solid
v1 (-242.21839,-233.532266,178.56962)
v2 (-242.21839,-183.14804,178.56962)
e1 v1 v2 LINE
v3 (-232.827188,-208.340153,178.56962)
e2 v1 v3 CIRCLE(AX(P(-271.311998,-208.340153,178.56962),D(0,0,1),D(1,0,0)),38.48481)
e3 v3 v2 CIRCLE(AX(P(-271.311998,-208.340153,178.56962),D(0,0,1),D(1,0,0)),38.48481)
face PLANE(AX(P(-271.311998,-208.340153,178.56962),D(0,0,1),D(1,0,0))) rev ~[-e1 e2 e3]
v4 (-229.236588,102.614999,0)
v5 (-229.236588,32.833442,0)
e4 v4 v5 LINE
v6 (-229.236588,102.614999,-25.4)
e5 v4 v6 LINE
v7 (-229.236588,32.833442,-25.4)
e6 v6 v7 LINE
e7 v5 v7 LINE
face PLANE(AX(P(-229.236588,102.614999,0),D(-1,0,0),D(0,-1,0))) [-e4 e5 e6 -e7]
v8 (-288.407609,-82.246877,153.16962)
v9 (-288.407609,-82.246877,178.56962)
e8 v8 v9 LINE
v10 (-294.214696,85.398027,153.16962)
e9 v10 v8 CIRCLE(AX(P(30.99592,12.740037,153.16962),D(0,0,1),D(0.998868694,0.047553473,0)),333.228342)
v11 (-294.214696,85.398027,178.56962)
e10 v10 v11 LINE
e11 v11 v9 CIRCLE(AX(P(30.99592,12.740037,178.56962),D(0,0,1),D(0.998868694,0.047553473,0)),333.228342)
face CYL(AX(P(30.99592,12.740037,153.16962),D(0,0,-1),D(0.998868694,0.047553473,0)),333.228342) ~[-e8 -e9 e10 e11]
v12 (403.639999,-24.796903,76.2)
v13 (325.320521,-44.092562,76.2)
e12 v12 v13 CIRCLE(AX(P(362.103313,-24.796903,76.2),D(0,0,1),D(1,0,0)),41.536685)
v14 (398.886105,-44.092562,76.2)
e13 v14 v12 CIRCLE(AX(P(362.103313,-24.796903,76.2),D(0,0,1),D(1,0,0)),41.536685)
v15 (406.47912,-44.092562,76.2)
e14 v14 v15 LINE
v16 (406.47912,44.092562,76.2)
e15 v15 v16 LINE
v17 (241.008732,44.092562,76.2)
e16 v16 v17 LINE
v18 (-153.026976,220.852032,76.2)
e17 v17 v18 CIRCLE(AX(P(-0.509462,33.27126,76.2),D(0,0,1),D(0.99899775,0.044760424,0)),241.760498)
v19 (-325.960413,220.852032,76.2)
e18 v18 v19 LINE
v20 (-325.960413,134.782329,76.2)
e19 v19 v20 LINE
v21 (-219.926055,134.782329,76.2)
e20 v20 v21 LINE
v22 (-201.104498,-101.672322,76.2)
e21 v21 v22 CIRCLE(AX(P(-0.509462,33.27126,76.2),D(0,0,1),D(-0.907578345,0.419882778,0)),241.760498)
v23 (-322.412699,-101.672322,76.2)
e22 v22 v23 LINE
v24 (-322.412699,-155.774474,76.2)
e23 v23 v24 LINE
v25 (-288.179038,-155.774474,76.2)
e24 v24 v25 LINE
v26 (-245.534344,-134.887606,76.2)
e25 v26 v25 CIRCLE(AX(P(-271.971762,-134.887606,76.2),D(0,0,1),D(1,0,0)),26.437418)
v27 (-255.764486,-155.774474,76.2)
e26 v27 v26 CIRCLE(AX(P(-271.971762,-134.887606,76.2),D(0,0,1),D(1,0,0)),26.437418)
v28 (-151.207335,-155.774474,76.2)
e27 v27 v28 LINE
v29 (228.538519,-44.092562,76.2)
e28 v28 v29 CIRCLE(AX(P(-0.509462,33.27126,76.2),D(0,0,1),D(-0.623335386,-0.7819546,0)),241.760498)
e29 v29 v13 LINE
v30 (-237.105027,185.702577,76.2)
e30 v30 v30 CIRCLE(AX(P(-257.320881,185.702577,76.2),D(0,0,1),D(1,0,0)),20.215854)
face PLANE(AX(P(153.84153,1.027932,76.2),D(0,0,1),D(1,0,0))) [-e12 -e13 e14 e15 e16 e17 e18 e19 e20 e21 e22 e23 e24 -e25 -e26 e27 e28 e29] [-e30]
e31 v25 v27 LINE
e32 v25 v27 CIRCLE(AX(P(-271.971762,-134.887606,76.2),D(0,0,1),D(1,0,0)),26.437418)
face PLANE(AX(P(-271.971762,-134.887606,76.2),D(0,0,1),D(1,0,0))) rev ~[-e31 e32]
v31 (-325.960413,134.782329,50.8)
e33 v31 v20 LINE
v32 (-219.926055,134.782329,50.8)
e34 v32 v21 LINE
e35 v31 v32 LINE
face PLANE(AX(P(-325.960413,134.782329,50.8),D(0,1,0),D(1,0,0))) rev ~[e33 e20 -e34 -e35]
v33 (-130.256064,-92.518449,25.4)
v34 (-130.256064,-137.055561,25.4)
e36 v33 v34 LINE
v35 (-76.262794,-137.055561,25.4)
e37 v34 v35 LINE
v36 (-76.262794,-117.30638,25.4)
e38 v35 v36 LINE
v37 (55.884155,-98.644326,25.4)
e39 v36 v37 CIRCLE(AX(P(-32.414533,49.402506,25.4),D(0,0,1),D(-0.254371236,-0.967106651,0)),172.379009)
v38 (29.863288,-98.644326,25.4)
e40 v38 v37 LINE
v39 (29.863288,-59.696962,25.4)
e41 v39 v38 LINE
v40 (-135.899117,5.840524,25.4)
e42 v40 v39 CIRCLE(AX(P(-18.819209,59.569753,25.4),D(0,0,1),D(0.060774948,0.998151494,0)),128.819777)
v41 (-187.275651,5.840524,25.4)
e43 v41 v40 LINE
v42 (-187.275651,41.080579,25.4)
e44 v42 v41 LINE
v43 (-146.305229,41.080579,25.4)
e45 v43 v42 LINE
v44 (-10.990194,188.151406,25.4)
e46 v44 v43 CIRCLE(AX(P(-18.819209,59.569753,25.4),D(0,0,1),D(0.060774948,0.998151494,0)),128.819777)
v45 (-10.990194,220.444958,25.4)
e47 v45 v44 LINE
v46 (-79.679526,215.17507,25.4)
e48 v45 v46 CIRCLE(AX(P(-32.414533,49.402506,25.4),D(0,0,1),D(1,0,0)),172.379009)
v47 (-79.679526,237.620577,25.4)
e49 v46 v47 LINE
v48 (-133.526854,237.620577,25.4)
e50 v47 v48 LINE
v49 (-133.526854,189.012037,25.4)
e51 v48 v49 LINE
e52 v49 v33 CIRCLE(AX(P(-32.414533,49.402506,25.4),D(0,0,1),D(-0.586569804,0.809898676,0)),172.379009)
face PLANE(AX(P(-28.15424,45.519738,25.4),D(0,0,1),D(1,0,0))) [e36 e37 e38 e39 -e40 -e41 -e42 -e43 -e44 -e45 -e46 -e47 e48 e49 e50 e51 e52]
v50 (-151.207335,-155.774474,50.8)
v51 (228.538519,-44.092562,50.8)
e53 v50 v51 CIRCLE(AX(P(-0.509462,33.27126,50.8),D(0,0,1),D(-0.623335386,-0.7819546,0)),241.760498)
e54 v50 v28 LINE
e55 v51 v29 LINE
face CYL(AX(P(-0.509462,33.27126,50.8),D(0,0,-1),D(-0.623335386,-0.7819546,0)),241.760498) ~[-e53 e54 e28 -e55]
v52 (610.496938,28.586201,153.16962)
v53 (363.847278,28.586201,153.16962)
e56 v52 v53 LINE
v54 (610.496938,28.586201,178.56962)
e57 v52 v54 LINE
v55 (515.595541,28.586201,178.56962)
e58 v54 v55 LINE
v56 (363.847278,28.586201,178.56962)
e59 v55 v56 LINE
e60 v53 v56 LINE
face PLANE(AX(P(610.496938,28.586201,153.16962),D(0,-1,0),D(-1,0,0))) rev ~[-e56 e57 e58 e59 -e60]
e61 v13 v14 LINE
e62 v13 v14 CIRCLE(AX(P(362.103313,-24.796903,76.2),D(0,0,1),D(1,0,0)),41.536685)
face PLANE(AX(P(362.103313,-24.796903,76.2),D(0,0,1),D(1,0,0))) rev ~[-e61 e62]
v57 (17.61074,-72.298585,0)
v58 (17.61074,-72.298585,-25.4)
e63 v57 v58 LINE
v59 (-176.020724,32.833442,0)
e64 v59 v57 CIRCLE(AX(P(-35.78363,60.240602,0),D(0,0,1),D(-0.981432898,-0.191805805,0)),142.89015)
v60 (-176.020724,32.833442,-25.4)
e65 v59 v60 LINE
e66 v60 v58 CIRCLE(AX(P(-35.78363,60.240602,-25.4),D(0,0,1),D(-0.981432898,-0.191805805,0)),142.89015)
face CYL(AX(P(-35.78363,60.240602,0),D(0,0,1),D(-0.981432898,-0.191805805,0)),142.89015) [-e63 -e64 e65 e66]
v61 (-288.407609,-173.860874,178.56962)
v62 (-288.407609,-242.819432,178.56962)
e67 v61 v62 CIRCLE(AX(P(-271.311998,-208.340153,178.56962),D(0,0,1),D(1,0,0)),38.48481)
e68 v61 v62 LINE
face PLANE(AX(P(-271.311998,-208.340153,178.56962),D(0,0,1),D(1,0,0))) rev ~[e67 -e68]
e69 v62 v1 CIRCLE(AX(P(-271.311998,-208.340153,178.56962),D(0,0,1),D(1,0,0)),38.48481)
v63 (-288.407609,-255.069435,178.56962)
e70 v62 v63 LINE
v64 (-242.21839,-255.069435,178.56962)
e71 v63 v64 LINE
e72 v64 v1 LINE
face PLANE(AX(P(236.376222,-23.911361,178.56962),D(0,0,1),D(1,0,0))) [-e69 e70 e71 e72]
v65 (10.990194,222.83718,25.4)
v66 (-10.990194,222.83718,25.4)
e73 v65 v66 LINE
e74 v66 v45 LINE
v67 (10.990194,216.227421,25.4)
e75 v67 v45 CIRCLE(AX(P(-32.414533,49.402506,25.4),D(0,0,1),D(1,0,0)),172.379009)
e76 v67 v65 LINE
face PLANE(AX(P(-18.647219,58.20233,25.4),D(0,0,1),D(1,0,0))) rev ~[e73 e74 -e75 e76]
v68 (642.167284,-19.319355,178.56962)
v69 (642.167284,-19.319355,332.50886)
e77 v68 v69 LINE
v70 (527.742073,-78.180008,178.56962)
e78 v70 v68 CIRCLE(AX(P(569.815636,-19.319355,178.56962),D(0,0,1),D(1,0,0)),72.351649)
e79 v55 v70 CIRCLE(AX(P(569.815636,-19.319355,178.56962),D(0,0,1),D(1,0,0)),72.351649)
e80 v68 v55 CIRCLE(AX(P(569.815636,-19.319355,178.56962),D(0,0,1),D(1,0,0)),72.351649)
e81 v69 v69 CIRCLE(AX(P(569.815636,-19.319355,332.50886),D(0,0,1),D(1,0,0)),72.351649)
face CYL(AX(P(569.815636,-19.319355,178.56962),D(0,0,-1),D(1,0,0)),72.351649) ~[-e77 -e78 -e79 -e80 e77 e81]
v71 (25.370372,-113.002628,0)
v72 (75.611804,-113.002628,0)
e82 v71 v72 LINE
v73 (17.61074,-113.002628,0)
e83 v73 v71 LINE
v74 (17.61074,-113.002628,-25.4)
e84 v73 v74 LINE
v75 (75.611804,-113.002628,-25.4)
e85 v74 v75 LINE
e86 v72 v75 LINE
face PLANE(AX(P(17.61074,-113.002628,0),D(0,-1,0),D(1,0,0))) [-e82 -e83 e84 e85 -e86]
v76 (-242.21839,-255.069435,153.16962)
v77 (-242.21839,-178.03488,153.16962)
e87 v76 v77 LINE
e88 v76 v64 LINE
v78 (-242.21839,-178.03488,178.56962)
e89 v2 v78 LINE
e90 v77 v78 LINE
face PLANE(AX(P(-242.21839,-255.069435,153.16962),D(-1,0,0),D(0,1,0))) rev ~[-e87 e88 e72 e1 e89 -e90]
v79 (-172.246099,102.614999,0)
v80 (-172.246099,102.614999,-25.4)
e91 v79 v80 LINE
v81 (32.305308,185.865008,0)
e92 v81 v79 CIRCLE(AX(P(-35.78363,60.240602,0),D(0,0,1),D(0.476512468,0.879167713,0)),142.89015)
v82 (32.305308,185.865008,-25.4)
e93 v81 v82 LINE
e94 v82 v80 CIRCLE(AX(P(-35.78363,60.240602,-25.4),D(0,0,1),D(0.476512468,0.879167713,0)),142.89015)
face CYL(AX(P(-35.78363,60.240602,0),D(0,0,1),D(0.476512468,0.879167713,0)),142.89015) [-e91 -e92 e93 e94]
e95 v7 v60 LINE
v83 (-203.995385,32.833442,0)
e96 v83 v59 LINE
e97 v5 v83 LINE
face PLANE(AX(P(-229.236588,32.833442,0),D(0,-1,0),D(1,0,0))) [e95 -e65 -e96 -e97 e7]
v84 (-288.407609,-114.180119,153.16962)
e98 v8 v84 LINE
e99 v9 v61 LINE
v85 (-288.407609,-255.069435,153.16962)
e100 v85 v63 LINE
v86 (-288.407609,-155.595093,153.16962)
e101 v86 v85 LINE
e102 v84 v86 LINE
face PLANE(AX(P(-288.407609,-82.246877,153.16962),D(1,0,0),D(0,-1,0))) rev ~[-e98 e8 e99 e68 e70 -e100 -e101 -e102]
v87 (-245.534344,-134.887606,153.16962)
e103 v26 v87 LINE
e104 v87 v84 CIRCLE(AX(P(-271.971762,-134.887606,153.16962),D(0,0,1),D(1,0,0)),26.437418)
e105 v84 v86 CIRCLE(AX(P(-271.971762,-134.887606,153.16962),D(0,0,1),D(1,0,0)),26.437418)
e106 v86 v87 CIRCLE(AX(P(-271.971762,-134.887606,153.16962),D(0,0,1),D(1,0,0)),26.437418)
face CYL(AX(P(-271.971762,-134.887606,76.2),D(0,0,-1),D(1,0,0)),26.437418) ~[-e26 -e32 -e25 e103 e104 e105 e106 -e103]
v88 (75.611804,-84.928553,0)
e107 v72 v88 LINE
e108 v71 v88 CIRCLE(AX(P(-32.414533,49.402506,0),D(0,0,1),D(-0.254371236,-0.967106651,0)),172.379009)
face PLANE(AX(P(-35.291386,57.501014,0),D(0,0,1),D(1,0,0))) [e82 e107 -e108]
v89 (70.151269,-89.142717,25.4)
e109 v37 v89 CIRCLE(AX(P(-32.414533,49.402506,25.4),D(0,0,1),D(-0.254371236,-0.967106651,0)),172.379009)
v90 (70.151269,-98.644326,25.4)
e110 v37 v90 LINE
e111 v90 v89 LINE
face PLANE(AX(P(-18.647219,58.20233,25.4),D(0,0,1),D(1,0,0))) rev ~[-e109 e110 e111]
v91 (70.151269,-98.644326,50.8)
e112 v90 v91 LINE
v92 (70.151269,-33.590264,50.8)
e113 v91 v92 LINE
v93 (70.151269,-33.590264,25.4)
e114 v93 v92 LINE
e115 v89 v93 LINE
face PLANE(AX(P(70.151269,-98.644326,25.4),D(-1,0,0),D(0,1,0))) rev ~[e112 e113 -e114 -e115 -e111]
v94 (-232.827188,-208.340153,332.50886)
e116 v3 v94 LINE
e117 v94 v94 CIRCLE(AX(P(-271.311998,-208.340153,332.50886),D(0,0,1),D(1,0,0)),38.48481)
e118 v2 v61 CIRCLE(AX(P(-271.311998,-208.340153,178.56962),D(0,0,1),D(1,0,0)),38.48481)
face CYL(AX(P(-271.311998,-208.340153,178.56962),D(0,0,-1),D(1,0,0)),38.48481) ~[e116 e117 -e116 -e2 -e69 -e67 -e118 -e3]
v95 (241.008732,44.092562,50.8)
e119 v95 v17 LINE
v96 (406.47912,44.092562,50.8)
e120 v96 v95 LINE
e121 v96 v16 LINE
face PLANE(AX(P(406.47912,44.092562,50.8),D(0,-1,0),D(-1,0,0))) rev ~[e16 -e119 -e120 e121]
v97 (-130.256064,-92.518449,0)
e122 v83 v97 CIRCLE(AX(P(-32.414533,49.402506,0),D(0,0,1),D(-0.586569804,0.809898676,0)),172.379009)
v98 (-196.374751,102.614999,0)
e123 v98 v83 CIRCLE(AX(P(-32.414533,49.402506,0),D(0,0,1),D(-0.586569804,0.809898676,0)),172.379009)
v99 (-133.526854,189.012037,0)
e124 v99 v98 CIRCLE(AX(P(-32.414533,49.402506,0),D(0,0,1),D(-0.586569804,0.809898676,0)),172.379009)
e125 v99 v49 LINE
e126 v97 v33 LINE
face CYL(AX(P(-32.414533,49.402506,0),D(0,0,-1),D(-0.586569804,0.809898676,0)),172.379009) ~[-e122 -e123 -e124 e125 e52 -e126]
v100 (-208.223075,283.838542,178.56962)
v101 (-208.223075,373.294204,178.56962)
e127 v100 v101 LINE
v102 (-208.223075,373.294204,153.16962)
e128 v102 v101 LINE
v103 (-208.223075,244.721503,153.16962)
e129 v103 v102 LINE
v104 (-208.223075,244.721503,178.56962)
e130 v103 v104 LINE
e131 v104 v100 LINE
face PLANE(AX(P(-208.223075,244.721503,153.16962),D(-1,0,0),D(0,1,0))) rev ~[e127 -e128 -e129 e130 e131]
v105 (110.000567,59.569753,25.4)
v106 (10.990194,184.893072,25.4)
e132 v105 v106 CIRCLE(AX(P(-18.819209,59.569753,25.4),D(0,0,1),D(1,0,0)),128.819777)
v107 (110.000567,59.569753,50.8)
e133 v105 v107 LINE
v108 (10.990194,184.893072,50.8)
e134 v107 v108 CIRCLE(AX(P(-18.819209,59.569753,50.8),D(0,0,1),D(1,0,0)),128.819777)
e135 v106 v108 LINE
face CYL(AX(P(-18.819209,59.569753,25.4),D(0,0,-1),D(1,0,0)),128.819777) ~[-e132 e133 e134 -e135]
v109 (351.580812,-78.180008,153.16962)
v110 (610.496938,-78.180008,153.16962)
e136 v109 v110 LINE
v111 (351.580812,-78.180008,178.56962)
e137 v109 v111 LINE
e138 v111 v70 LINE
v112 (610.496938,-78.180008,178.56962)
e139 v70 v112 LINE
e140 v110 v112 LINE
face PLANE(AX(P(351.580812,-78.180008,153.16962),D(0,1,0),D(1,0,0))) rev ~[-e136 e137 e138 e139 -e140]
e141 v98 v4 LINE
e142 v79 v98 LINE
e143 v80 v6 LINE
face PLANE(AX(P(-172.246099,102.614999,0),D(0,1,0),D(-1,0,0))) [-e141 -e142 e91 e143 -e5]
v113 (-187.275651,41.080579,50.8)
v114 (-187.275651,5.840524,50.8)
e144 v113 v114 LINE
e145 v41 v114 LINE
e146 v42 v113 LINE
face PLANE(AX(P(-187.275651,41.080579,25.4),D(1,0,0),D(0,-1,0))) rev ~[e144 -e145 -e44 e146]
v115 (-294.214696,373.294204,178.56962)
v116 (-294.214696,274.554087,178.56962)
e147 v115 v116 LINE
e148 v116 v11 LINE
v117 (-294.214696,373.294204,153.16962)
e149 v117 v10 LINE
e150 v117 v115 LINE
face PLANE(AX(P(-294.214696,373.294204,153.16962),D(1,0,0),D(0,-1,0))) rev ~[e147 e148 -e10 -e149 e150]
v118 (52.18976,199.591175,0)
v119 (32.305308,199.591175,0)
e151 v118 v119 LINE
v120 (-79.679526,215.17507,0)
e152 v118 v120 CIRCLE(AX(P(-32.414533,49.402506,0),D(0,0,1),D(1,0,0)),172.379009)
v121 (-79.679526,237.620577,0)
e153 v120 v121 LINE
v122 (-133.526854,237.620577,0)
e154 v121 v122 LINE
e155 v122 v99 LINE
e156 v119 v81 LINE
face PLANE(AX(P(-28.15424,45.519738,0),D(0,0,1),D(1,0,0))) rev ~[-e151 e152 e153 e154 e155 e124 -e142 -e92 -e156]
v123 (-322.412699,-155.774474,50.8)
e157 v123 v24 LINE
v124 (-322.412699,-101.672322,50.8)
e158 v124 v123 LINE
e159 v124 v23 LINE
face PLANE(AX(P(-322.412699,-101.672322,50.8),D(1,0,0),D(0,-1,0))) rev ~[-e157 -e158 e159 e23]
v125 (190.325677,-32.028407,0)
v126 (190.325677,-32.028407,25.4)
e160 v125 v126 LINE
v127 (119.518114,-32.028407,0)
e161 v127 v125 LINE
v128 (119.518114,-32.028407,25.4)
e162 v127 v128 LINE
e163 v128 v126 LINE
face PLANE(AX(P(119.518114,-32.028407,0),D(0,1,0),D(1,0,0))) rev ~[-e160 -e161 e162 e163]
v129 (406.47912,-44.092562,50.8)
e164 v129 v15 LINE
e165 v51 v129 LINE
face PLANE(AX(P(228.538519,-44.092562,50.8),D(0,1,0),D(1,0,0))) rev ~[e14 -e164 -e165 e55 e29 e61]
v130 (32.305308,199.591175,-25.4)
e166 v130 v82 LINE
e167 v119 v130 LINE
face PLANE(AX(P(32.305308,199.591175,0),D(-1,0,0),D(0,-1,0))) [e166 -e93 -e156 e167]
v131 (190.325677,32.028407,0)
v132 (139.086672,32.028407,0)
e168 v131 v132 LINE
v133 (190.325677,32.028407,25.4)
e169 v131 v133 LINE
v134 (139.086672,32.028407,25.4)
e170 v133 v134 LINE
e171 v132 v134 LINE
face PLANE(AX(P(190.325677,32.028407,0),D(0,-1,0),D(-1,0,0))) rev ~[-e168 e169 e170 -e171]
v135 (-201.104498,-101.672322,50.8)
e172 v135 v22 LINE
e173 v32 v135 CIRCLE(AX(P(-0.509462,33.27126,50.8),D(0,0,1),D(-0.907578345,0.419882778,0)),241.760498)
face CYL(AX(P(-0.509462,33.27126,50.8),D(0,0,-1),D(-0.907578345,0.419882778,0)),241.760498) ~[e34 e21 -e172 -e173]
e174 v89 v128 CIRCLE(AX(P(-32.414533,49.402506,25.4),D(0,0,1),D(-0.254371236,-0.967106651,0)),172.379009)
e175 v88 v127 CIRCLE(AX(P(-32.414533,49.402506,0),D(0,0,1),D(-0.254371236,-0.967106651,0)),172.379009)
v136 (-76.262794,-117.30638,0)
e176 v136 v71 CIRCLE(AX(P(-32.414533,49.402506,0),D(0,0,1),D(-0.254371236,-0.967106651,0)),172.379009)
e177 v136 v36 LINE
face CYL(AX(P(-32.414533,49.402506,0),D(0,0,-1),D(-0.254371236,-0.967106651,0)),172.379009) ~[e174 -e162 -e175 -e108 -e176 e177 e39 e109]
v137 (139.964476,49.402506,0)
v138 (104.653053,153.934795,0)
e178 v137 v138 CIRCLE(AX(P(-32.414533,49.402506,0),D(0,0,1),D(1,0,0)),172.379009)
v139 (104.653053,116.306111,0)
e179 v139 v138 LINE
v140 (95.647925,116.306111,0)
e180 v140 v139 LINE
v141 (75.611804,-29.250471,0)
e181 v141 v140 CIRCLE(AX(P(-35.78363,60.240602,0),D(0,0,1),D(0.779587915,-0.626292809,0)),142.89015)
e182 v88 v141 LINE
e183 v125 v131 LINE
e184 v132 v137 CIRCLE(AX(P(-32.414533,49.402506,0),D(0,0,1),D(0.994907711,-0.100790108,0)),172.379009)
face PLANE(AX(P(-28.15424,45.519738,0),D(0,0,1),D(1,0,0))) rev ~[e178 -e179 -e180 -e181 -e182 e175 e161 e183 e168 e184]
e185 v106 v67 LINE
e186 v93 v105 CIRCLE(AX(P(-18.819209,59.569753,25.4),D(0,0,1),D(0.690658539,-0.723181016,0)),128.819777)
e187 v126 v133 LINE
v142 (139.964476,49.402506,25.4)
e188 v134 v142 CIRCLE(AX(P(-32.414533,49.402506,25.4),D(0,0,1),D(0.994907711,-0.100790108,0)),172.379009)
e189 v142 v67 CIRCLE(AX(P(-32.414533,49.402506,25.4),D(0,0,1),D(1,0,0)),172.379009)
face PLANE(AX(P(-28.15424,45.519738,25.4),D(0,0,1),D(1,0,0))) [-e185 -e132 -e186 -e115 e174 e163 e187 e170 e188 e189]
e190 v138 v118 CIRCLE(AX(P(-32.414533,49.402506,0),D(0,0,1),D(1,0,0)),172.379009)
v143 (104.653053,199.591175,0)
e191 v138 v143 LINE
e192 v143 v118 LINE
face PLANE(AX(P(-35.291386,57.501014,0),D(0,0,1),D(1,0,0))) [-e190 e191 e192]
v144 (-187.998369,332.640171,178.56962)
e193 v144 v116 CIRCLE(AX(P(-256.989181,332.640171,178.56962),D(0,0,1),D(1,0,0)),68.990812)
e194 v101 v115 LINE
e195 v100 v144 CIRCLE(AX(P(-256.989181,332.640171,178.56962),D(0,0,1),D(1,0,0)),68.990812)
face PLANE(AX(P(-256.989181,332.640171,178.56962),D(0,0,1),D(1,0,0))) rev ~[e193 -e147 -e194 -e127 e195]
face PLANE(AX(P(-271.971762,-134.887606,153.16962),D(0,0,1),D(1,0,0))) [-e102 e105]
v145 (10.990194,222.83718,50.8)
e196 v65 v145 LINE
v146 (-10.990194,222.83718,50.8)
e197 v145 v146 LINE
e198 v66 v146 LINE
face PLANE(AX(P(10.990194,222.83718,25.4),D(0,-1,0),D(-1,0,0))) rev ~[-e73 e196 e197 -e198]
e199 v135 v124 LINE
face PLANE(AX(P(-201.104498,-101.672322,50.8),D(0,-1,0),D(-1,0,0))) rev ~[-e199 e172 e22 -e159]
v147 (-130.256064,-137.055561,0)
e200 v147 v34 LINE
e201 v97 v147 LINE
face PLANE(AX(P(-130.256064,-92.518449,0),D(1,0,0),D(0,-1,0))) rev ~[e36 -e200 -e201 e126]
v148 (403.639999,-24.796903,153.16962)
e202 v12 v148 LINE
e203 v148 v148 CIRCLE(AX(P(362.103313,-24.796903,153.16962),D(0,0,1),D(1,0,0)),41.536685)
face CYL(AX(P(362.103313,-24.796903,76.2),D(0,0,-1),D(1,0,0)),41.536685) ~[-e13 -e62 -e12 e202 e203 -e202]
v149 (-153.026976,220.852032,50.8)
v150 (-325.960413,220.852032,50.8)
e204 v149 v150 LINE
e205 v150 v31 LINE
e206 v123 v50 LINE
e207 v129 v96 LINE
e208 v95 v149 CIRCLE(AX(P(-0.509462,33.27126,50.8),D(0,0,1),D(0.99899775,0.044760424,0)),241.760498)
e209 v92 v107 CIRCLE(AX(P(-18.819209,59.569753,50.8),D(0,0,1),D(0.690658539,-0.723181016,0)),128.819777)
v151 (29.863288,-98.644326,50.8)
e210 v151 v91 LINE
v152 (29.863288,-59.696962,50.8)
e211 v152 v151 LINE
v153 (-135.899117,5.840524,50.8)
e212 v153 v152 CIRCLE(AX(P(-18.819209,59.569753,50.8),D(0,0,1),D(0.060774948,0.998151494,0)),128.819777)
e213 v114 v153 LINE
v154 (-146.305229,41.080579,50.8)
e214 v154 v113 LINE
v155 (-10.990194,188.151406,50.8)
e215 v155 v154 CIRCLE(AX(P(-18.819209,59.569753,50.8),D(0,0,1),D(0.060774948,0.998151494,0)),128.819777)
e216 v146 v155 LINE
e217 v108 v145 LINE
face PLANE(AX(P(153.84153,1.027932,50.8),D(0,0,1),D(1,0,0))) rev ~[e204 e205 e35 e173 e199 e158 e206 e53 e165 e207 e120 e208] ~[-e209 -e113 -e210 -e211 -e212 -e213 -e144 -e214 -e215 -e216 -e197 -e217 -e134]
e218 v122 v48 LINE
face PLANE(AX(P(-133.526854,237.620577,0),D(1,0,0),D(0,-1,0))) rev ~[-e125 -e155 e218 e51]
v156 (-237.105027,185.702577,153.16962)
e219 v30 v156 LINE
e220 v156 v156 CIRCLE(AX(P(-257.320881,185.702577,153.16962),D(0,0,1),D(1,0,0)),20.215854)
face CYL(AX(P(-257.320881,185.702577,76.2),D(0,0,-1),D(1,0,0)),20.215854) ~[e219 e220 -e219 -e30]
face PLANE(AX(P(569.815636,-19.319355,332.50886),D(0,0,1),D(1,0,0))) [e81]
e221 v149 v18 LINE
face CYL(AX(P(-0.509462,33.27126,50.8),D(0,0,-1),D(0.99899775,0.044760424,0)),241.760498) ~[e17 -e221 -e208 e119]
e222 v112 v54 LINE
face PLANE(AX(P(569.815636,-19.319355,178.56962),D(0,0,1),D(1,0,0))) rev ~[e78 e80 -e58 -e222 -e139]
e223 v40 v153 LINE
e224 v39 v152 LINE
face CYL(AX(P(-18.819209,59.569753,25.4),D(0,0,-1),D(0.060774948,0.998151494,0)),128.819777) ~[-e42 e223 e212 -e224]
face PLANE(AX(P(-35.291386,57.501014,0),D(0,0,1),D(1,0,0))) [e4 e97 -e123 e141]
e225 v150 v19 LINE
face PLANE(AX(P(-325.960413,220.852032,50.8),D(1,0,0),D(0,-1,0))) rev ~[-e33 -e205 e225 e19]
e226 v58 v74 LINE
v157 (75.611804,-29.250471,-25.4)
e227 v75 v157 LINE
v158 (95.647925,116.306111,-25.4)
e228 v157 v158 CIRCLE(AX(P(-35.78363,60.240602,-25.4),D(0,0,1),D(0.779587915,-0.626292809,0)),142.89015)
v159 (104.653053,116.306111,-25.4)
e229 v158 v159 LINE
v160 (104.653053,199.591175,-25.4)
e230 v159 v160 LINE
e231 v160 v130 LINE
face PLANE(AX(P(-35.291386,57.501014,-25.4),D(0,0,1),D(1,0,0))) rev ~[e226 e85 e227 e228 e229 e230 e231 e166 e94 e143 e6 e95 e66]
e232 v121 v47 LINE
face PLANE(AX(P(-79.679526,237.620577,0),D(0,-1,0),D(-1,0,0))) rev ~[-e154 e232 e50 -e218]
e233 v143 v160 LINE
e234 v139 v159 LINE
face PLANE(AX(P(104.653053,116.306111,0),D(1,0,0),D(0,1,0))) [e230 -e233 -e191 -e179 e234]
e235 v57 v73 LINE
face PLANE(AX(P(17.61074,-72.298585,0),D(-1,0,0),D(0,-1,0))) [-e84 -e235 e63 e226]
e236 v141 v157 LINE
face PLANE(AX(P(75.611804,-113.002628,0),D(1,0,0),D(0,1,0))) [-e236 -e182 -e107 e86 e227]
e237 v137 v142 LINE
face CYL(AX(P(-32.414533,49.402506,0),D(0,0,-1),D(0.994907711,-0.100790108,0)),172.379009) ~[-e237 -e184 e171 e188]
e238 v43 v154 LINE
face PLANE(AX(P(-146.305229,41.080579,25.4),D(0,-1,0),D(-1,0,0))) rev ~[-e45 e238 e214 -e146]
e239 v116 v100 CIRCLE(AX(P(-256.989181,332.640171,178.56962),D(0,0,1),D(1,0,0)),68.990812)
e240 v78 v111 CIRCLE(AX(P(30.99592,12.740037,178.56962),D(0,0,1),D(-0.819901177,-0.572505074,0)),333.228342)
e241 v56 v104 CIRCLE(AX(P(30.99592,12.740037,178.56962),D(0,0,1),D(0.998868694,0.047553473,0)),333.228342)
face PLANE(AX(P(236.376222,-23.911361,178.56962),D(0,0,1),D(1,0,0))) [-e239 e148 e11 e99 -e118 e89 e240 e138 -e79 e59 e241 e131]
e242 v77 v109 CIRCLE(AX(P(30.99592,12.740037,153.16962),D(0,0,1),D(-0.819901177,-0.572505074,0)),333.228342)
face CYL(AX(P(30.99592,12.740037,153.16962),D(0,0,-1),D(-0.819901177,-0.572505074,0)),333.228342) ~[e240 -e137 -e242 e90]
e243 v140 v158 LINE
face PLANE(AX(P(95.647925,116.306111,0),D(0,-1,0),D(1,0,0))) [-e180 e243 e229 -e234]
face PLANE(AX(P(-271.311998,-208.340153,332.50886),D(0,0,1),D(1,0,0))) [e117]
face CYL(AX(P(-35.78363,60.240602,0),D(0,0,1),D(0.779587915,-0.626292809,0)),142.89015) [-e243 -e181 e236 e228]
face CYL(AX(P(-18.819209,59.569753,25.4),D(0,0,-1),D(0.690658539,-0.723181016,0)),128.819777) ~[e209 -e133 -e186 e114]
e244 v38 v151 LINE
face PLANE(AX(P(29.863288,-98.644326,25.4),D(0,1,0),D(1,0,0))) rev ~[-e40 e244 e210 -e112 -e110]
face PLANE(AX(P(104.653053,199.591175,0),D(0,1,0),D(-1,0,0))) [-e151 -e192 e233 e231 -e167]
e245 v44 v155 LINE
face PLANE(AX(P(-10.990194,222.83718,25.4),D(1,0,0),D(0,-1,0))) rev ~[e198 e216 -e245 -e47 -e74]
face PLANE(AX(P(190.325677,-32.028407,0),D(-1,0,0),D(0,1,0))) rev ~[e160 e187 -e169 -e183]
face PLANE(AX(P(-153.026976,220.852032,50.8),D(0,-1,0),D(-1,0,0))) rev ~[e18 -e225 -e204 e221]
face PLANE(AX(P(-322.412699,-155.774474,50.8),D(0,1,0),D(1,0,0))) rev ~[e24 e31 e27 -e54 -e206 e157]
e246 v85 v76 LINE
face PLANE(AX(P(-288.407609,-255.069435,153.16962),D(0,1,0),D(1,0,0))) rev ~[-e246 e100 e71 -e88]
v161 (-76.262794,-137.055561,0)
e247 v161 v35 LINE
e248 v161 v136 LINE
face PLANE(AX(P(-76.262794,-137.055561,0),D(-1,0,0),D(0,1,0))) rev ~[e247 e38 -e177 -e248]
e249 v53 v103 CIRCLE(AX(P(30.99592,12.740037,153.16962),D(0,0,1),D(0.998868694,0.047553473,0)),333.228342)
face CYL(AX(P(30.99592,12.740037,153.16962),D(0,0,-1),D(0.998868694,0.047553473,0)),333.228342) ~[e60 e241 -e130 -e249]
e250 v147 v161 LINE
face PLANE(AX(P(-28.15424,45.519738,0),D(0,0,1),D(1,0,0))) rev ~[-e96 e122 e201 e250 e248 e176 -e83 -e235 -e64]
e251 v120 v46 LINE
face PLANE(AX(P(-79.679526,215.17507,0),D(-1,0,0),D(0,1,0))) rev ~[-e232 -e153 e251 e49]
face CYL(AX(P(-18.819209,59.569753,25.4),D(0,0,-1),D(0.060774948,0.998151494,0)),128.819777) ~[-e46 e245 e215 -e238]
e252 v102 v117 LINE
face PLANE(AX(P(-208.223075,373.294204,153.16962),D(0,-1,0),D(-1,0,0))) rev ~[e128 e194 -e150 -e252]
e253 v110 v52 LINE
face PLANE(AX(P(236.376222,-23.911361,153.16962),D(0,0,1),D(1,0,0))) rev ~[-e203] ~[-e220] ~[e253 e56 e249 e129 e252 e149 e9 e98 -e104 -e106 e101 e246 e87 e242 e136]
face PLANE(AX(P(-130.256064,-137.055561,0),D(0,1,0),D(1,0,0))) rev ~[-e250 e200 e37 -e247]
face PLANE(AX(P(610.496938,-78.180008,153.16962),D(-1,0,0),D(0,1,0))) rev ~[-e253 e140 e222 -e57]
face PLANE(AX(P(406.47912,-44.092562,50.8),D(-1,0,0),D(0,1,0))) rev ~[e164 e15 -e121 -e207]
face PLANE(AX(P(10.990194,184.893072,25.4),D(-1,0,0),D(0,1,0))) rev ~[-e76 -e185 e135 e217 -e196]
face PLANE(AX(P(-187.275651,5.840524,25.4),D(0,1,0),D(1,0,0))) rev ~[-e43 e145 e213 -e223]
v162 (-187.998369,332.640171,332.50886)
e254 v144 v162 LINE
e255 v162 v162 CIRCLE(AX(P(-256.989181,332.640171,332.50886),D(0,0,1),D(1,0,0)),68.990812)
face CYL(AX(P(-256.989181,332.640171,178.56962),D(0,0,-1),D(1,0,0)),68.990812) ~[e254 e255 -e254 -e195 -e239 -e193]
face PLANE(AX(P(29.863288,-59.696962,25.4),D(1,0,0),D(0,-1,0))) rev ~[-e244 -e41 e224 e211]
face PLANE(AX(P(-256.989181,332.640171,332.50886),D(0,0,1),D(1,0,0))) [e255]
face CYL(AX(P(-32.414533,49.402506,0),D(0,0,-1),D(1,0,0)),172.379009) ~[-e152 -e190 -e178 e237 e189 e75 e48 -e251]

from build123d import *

# Parameters (mm, degrees)
F1_DEPTH  = 25.4
F3_DEPTH  = 25.4
F5_DEPTH  = 25.4
F7_DEPTH  = 25.4
F8_R      = 26.4374178828
F8_R_2    = 20.2158541238
F8_R_3    = 41.5366854277
F9_DEPTH  = 76.96962
F11_DEPTH = 25.4
F12_R     = 38.48481
F12_R_2   = 68.9908119852
F12_R_3   = 72.3516487383
F13_DEPTH = 153.93924


with BuildPart() as f1:
    # F0 (on Top) → F1 (new body)
    with BuildSketch(Plane.XY):
        with BuildLine():
            ThreePointArc((139.0866722242, 32.0284068584), (139.7448851035, 40.7043758766), (139.9644758853, 49.4025057036))
            ThreePointArc((139.9644758853, 49.4025057036), (71.4291716272, 186.9925042301), (-79.6795263886, 215.1750699089))
            Line((-79.6795263886, 215.1750699089), (-79.6795263886, 172.3793298006))
            Line((-79.6795263886, 172.3793298006), (-133.5268542171, 172.3793298006))
            Line((-133.5268542171, 172.3793298006), (-133.5268542171, 189.0120366332))
            ThreePointArc((-133.526854217, 189.0120366332), (-204.7819093266, 47.399960627), (-130.2560642362, -92.5184490373))
            Line((-130.2560642362, -92.5184490373), (-130.2560642362, -78.4356147051))
            Line((-130.2560642362, -78.4356147051), (-76.262794435, -78.4356147051))
            Line((-76.262794435, -78.4356147051), (-76.262794435, -117.3063801224))
            ThreePointArc((-76.262794435, -117.3063801224), (36.4232602358, -108.6350876024), (119.518113847, -32.0284068584))
            Line((119.518113847, -32.0284068584), (75.1415789127, -32.0284068584))
            Line((75.1415789127, -32.0284068584), (75.1415789127, 32.0284068584))
            Line((75.1415789127, 32.0284068584), (139.0866722242, 32.0284068584))
        make_face()
        with BuildLine():
            Line((-79.6795263886, 172.3793298006), (-79.6795263886, 215.1750699089))
            ThreePointArc((-79.6795263886, 215.1750699089), (-107.7476794206, 204.4490783385), (-133.526854217, 189.0120366332))
            Line((-133.5268542171, 189.0120366332), (-133.5268542171, 172.3793298006))
            Line((-133.5268542171, 172.3793298006), (-79.6795263886, 172.3793298006))
        make_face()
        with BuildLine():
            ThreePointArc((-133.526854217, 189.0120366332), (-107.7476794206, 204.4490783385), (-79.6795263886, 215.1750699089))
            Line((-79.6795263886, 215.1750699089), (-79.6795263886, 237.6205772161))
            Line((-79.6795263886, 237.6205772161), (-133.5268542171, 237.6205772161))
            Line((-133.5268542171, 237.6205772161), (-133.5268542171, 189.0120366332))
        make_face()
        with BuildLine():
            Line((190.3256773949, 32.0284068584), (139.0866722242, 32.0284068584))
            ThreePointArc((139.0866722242, 32.0284068584), (132.4435362995, -0.9595801253), (119.518113847, -32.0284068584))
            Line((119.518113847, -32.0284068584), (190.3256773949, -32.0284068584))
            Line((190.3256773949, -32.0284068584), (190.3256773949, 32.0284068584))
        make_face()
        with BuildLine():
            ThreePointArc((119.518113847, -32.0284068584), (132.4435362995, -0.9595801253), (139.0866722242, 32.0284068584))
            Line((139.0866722242, 32.0284068584), (75.1415789127, 32.0284068584))
            Line((75.1415789127, 32.0284068584), (75.1415789127, -32.0284068584))
            Line((75.1415789127, -32.0284068584), (119.518113847, -32.0284068584))
        make_face()
        with BuildLine():
            Line((-130.2560642362, -78.4356147051), (-130.2560642362, -92.5184490373))
            ThreePointArc((-130.2560642362, -92.5184490373), (-104.3353903251, -107.2560814152), (-76.262794435, -117.3063801224))
            Line((-76.262794435, -117.3063801224), (-76.262794435, -78.4356147051))
            Line((-76.262794435, -78.4356147051), (-130.2560642362, -78.4356147051))
        make_face()
        with BuildLine():
            ThreePointArc((-76.262794435, -117.3063801224), (-104.3353903251, -107.2560814152), (-130.2560642362, -92.5184490373))
            Line((-130.2560642362, -92.5184490373), (-130.2560642362, -137.0555609465))
            Line((-130.2560642362, -137.0555609465), (-76.262794435, -137.0555609465))
            Line((-76.262794435, -137.0555609465), (-76.262794435, -117.3063801224))
        make_face()
    extrude(amount=F1_DEPTH)

    # F2 (on Top) → F3 (join)
    with BuildSketch(Plane.XY):
        with BuildLine():
            ThreePointArc((75.6118036807, -29.2504710738), (99.0030626057, 12.8049370358), (107.1065195267, 60.2406022181))
            ThreePointArc((107.1065195267, 60.2406022181), (104.2125651571, 88.852840411), (95.6479245708, 116.3061112165))
            Line((95.6479245708, 116.3061112165), (32.3053076863, 116.3061112165))
            Line((32.3053076863, 116.3061112165), (32.3053076863, 185.8650083866))
            ThreePointArc((32.3053076863, 185.8650083866), (-89.6480521885, 192.5894553657), (-172.2460990224, 102.6149988174))
            Line((-172.2460990224, 102.6149988174), (-127.7187615633, 102.6149988174))
            Line((-127.7187615633, 102.6149988174), (-127.7187615633, 32.8334420919))
            Line((-127.7187615633, 32.8334420919), (-176.0207239306, 32.8334420919))
            ThreePointArc((-176.0207239306, 32.8334420919), (-103.9642758165, -65.3340546547), (17.6107399166, -72.2985849202))
            Line((17.6107399166, -72.2985849202), (17.6107399166, 0))
            Line((17.6107399166, 0), (75.6118036807, 0))
            Line((75.6118036807, 0), (75.6118036807, -29.2504710738))
        make_face()
        with BuildLine():
            Line((32.3053076863, 116.3061112165), (95.6479245708, 116.3061112165))
            ThreePointArc((95.6479245708, 116.3061112165), (69.8653962579, 156.4480764432), (32.3053076863, 185.8650083866))
            Line((32.3053076863, 185.8650083866), (32.3053076863, 116.3061112165))
        make_face()
        with BuildLine():
            ThreePointArc((32.3053076863, 185.8650083866), (69.8653962579, 156.4480764432), (95.6479245708, 116.3061112165))
            Line((95.6479245708, 116.3061112165), (104.6530529857, 116.3061112165))
            Line((104.6530529857, 116.3061112165), (104.6530529857, 199.5911747217))
            Line((104.6530529857, 199.5911747217), (32.3053076863, 199.5911747217))
            Line((32.3053076863, 199.5911747217), (32.3053076863, 185.8650083866))
        make_face()
        with BuildLine():
            Line((75.6118036807, -113.002628088), (75.6118036807, -29.2504710738))
            ThreePointArc((75.6118036807, -29.2504710738), (49.3762482748, -54.4999311), (17.6107399166, -72.2985849202))
            Line((17.6107399166, -72.2985849202), (17.6107399166, -113.002628088))
            Line((17.6107399166, -113.002628088), (75.6118036807, -113.002628088))
        make_face()
        with BuildLine():
            ThreePointArc((17.6107399166, -72.2985849202), (49.3762482748, -54.4999311), (75.6118036807, -29.2504710738))
            Line((75.6118036807, -29.2504710738), (75.6118036807, 0))
            Line((75.6118036807, 0), (17.6107399166, 0))
            Line((17.6107399166, 0), (17.6107399166, -72.2985849202))
        make_face()
        with BuildLine():
            Line((-127.7187615633, 102.6149988174), (-172.2460990224, 102.6149988174))
            ThreePointArc((-172.2460990224, 102.6149988174), (-178.4651931082, 67.9585352452), (-176.0207239306, 32.8334420919))
            Line((-176.0207239306, 32.8334420919), (-127.7187615633, 32.8334420919))
            Line((-127.7187615633, 32.8334420919), (-127.7187615633, 102.6149988174))
        make_face()
        with BuildLine():
            ThreePointArc((-176.0207239306, 32.8334420919), (-178.4651931082, 67.9585352452), (-172.2460990224, 102.6149988174))
            Line((-172.2460990224, 102.6149988174), (-229.236587882, 102.6149988174))
            Line((-229.236587882, 102.6149988174), (-229.236587882, 32.8334420919))
            Line((-229.236587882, 32.8334420919), (-176.0207239306, 32.8334420919))
        make_face()
    extrude(amount=-F3_DEPTH)

    # F4 (on face) → F5 (join)
    with BuildSketch(Plane.XY.offset(25.4)):
        with BuildLine():
            ThreePointArc((70.1512694359, -33.5902639723), (99.6199988318, 8.9072537868), (110.0005673225, 59.5697529918))
            ThreePointArc((110.0005673225, 59.5697529918), (82.2613910369, 139.427420647), (10.990194045, 184.8930721179))
            Line((10.990194045, 184.8930721179), (10.990194045, 151.1777639389))
            Line((10.990194045, 151.1777639389), (-10.990194045, 151.1777639389))
            Line((-10.990194045, 151.1777639389), (-10.990194045, 188.1514055076))
            ThreePointArc((-10.990194045, 188.1514055076), (-113.6185061509, 146.791471362), (-146.3052292726, 41.0805791616))
            Line((-146.3052292726, 41.0805791616), (-97.673587501, 41.0805791616))
            Line((-97.673587501, 41.0805791616), (-97.673587501, 5.8405236105))
            Line((-97.673587501, 5.8405236105), (-135.899116833, 5.8405236105))
            ThreePointArc((-135.899116833, 5.8405236105), (-66.1831399884, -60.2267115252), (29.8632881141, -59.6969619413))
            Line((29.8632881141, -59.6969619413), (29.8632881141, 0))
            Line((29.8632881141, 0), (70.1512694359, 0))
            Line((70.1512694359, 0), (70.1512694359, -33.5902639723))
        make_face()
        with BuildLine():
            Line((10.990194045, 151.1777639389), (10.990194045, 184.8930721179))
            ThreePointArc((10.990194045, 184.8930721179), (0.070386323, 186.9970578415), (-10.990194045, 188.1514055076))
            Line((-10.990194045, 188.1514055076), (-10.990194045, 151.1777639389))
            Line((-10.990194045, 151.1777639389), (10.990194045, 151.1777639389))
        make_face()
        with BuildLine():
            ThreePointArc((-10.990194045, 188.1514055076), (0.070386323, 186.9970578415), (10.990194045, 184.8930721179))
            Line((10.990194045, 184.8930721179), (10.990194045, 222.8371798992))
            Line((10.990194045, 222.8371798992), (-10.990194045, 222.8371798992))
            Line((-10.990194045, 222.8371798992), (-10.990194045, 188.1514055076))
        make_face()
        with BuildLine():
            Line((70.1512694359, -98.6443261582), (70.1512694359, -33.5902639723))
            ThreePointArc((70.1512694359, -33.5902639723), (51.2341659256, -48.5369510828), (29.8632881141, -59.6969619413))
            Line((29.8632881141, -59.6969619413), (29.8632881141, -98.6443261582))
            Line((29.8632881141, -98.6443261582), (70.1512694359, -98.6443261582))
        make_face()
        with BuildLine():
            ThreePointArc((29.8632881141, -59.6969619413), (51.2341659256, -48.5369510828), (70.1512694359, -33.5902639723))
            Line((70.1512694359, -33.5902639723), (70.1512694359, 0))
            Line((70.1512694359, 0), (29.8632881141, 0))
            Line((29.8632881141, 0), (29.8632881141, -59.6969619413))
        make_face()
        with BuildLine():
            Line((-97.673587501, 41.0805791616), (-146.3052292726, 41.0805791616))
            ThreePointArc((-146.3052292726, 41.0805791616), (-142.3651060466, 23.087617163), (-135.899116833, 5.8405236105))
            Line((-135.899116833, 5.8405236105), (-97.673587501, 5.8405236105))
            Line((-97.673587501, 5.8405236105), (-97.673587501, 41.0805791616))
        make_face()
        with BuildLine():
            ThreePointArc((-135.899116833, 5.8405236105), (-142.3651060466, 23.087617163), (-146.3052292726, 41.0805791616))
            Line((-146.3052292726, 41.0805791616), (-187.2756508942, 41.0805791616))
            Line((-187.2756508942, 41.0805791616), (-187.2756508942, 5.8405236105))
            Line((-187.2756508942, 5.8405236105), (-135.899116833, 5.8405236105))
        make_face()
    extrude(amount=F5_DEPTH)

    # F6 (on face) → F7 (join)
    with BuildSketch(Plane.XY.offset(50.8)):
        with BuildLine():
            ThreePointArc((228.5385191266, -44.0925620496), (238.0517383383, -5.9294068545), (241.2510363332, 33.27125955))
            ThreePointArc((241.2510363332, 33.27125955), (241.1904526245, 38.6832670159), (241.0087318622, 44.0925620496))
            Line((241.0087318622, 44.0925620496), (71.4222490788, 44.0925620496))
            Line((71.4222490788, 44.0925620496), (71.4222490788, -44.0925620496))
            Line((71.4222490788, -44.0925620496), (228.5385191266, -44.0925620496))
        make_face()
        with BuildLine():
            ThreePointArc((241.0087318622, 44.0925620496), (241.1904526245, 38.6832670159), (241.2510363332, 33.27125955))
            ThreePointArc((241.2510363332, 33.27125955), (238.0517383383, -5.9294068545), (228.5385191266, -44.0925620496))
            Line((228.5385191266, -44.0925620496), (406.4791202545, -44.0925620496))
            Line((406.4791202545, -44.0925620496), (406.4791202545, 44.0925620496))
            Line((406.4791202545, 44.0925620496), (241.0087318622, 44.0925620496))
        make_face()
        with BuildLine():
            Line((71.4222490788, 44.0925620496), (241.0087318622, 44.0925620496))
            ThreePointArc((241.0087318622, 44.0925620496), (98.4413229505, 253.8543066571), (-153.0269761889, 220.8520323038))
            Line((-153.0269761889, 220.8520323038), (-62.6387745142, 220.8520323038))
            Line((-62.6387745142, 220.8520323038), (-62.6387745142, 134.7823292017))
            Line((-62.6387745142, 134.7823292017), (-219.9260547186, 134.7823292017))
            ThreePointArc((-219.9260547186, 134.7823292017), (-241.5076828609, 14.0880388149), (-201.1044976944, -101.672321558))
            Line((-201.1044976944, -101.672321558), (-37.5261008739, -101.672321558))
            Line((-37.5261008739, -101.672321558), (-37.5261008739, -155.774474144))
            Line((-37.5261008739, -155.774474144), (-151.2073352892, -155.774474144))
            ThreePointArc((-151.2073352892, -155.774474144), (67.7026866989, -198.6667521566), (228.5385191266, -44.0925620496))
            Line((228.5385191266, -44.0925620496), (71.4222490788, -44.0925620496))
            Line((71.4222490788, -44.0925620496), (71.4222490788, 44.0925620496))
        make_face()
        with BuildLine():
            Line((-62.6387745142, 220.8520323038), (-153.0269761889, 220.8520323038))
            ThreePointArc((-153.0269761889, 220.8520323038), (-191.3909525036, 181.6370069899), (-219.9260547186, 134.7823292017))
            Line((-219.9260547186, 134.7823292017), (-62.6387745142, 134.7823292017))
            Line((-62.6387745142, 134.7823292017), (-62.6387745142, 220.8520323038))
        make_face()
        with BuildLine():
            ThreePointArc((-219.9260547186, 134.7823292017), (-191.3909525036, 181.6370069899), (-153.0269761889, 220.8520323038))
            Line((-153.0269761889, 220.8520323038), (-325.9604126215, 220.8520323038))
            Line((-325.9604126215, 220.8520323038), (-325.9604126215, 134.7823292017))
            Line((-325.9604126215, 134.7823292017), (-219.9260547186, 134.7823292017))
        make_face()
        with BuildLine():
            Line((-322.412699461, -155.774474144), (-151.2073352892, -155.774474144))
            ThreePointArc((-151.2073352892, -155.774474144), (-178.2267591423, -130.6332880699), (-201.1044976944, -101.672321558))
            Line((-201.1044976944, -101.672321558), (-322.412699461, -101.672321558))
            Line((-322.412699461, -101.672321558), (-322.412699461, -155.774474144))
        make_face()
        with BuildLine():
            ThreePointArc((-201.1044976944, -101.672321558), (-178.2267591423, -130.6332880699), (-151.2073352892, -155.774474144))
            Line((-151.2073352892, -155.774474144), (-37.5261008739, -155.774474144))
            Line((-37.5261008739, -155.774474144), (-37.5261008739, -101.672321558))
            Line((-37.5261008739, -101.672321558), (-201.1044976944, -101.672321558))
        make_face()
    extrude(amount=F7_DEPTH)

    # F8 (on face) → F9 (join)
    with BuildSketch(Plane.XY.offset(76.2)):
        with Locations((-271.9717621803, -134.8876059055)):
            Circle(F8_R)
        with Locations((-257.3208808899, 185.7025772333)):
            Circle(F8_R_2)
        with Locations((362.1033132076, -24.7969031334)):
            Circle(F8_R_3)
    extrude(amount=F9_DEPTH)

    # F10 (on face) → F11 (join)
    with BuildSketch(Plane.XY.offset(153.16962)):
        with BuildLine():
            ThreePointArc((351.5808124195, -78.1800076366), (361.048264133, -33.157434081), (364.2242616474, 12.7400365607))
            ThreePointArc((364.2242616474, 12.7400365607), (364.1300024852, 20.6653607746), (363.8472783241, 28.5862013698))
            Line((363.8472783241, 28.5862013698), (113.7096881866, 28.5862013698))
            Line((113.7096881866, 28.5862013698), (113.7096881866, -78.1800076365))
            Line((113.7096881866, -78.1800076365), (351.5808124195, -78.1800076365))
        make_face()
        with BuildLine():
            ThreePointArc((363.8472783241, 28.5862013698), (364.1300024852, 20.6653607746), (364.2242616474, 12.7400365607))
            ThreePointArc((364.2242616474, 12.7400365607), (361.048264133, -33.157434081), (351.5808124195, -78.1800076366))
            Line((351.5808124195, -78.1800076365), (610.4969382286, -78.1800076365))
            Line((610.4969382286, -78.1800076365), (610.4969382286, 28.5862013698))
            Line((610.4969382286, 28.5862013698), (363.8472783241, 28.5862013698))
        make_face()
        with BuildLine():
            Line((113.7096881866, 28.5862013698), (363.8472783241, 28.5862013698))
            ThreePointArc((363.8472783241, 28.5862013698), (148.7684632838, 324.4622780693), (-208.2230746746, 244.7215026257))
            Line((-208.2230746746, 244.7215026257), (-208.2230746746, 6.5638124943))
            Line((-208.2230746746, 6.5638124943), (-294.2146956921, 6.5638124943))
            Line((-294.2146956921, 6.5638124943), (-294.2146956921, 85.3980265007))
            ThreePointArc((-294.2146956921, 85.3980265007), (-302.0326858138, 1.204189161), (-288.4076088667, -82.2468773015))
            Line((-288.4076088667, -82.2468773015), (-288.4076088667, -24.3580341339))
            Line((-288.4076088667, -24.3580341339), (-242.2183901072, -24.3580341339))
            Line((-242.2183901072, -24.3580341339), (-242.2183901072, -178.0348799858))
            ThreePointArc((-242.2183901071, -178.0348799858), (86.256592107, -315.8743057274), (351.5808124195, -78.1800076366))
            Line((351.5808124195, -78.1800076365), (113.7096881866, -78.1800076365))
            Line((113.7096881866, -78.1800076365), (113.7096881866, 28.5862013698))
        make_face()
        with BuildLine():
            Line((-208.2230746746, 6.5638124943), (-208.2230746746, 244.7215026257))
            ThreePointArc((-208.2230746746, 244.7215026257), (-262.2466225859, 171.0117625893), (-294.2146956921, 85.3980265007))
            Line((-294.2146956921, 85.3980265007), (-294.2146956921, 6.5638124943))
            Line((-294.2146956921, 6.5638124943), (-208.2230746746, 6.5638124943))
        make_face()
        with BuildLine():
            ThreePointArc((-294.2146956921, 85.3980265007), (-262.2466225859, 171.0117625893), (-208.2230746746, 244.7215026257))
            Line((-208.2230746746, 244.7215026257), (-208.2230746746, 373.2942044735))
            Line((-208.2230746746, 373.2942044735), (-294.2146956921, 373.2942044735))
            Line((-294.2146956921, 373.2942044735), (-294.2146956921, 85.3980265007))
        make_face()
        with BuildLine():
            Line((-242.2183901072, -255.0694346428), (-242.2183901072, -178.0348799858))
            ThreePointArc((-242.2183901071, -178.0348799858), (-269.1587253652, -131.9952974529), (-288.4076088667, -82.2468773015))
            Line((-288.4076088667, -82.2468773015), (-288.4076088667, -255.0694346428))
            Line((-288.4076088667, -255.0694346428), (-242.2183901072, -255.0694346428))
        make_face()
        with BuildLine():
            ThreePointArc((-288.4076088667, -82.2468773015), (-269.1587253652, -131.9952974529), (-242.2183901071, -178.0348799858))
            Line((-242.2183901072, -178.0348799858), (-242.2183901072, -24.3580341339))
            Line((-242.2183901072, -24.3580341339), (-288.4076088667, -24.3580341339))
            Line((-288.4076088667, -24.3580341339), (-288.4076088667, -82.2468773015))
        make_face()
    extrude(amount=F11_DEPTH)

    # F12 (on face) → F13 (join)
    with BuildSketch(Plane.XY.offset(178.56962)):
        with Locations((-271.3119983673, -208.3401530981)):
            Circle(F12_R)
        with Locations((-256.9891810417, 332.640171051)):
            Circle(F12_R_2)
        with Locations((569.8156356812, -19.3193554878)):
            Circle(F12_R_3)
    extrude(amount=F13_DEPTH)


solid = f1.part
